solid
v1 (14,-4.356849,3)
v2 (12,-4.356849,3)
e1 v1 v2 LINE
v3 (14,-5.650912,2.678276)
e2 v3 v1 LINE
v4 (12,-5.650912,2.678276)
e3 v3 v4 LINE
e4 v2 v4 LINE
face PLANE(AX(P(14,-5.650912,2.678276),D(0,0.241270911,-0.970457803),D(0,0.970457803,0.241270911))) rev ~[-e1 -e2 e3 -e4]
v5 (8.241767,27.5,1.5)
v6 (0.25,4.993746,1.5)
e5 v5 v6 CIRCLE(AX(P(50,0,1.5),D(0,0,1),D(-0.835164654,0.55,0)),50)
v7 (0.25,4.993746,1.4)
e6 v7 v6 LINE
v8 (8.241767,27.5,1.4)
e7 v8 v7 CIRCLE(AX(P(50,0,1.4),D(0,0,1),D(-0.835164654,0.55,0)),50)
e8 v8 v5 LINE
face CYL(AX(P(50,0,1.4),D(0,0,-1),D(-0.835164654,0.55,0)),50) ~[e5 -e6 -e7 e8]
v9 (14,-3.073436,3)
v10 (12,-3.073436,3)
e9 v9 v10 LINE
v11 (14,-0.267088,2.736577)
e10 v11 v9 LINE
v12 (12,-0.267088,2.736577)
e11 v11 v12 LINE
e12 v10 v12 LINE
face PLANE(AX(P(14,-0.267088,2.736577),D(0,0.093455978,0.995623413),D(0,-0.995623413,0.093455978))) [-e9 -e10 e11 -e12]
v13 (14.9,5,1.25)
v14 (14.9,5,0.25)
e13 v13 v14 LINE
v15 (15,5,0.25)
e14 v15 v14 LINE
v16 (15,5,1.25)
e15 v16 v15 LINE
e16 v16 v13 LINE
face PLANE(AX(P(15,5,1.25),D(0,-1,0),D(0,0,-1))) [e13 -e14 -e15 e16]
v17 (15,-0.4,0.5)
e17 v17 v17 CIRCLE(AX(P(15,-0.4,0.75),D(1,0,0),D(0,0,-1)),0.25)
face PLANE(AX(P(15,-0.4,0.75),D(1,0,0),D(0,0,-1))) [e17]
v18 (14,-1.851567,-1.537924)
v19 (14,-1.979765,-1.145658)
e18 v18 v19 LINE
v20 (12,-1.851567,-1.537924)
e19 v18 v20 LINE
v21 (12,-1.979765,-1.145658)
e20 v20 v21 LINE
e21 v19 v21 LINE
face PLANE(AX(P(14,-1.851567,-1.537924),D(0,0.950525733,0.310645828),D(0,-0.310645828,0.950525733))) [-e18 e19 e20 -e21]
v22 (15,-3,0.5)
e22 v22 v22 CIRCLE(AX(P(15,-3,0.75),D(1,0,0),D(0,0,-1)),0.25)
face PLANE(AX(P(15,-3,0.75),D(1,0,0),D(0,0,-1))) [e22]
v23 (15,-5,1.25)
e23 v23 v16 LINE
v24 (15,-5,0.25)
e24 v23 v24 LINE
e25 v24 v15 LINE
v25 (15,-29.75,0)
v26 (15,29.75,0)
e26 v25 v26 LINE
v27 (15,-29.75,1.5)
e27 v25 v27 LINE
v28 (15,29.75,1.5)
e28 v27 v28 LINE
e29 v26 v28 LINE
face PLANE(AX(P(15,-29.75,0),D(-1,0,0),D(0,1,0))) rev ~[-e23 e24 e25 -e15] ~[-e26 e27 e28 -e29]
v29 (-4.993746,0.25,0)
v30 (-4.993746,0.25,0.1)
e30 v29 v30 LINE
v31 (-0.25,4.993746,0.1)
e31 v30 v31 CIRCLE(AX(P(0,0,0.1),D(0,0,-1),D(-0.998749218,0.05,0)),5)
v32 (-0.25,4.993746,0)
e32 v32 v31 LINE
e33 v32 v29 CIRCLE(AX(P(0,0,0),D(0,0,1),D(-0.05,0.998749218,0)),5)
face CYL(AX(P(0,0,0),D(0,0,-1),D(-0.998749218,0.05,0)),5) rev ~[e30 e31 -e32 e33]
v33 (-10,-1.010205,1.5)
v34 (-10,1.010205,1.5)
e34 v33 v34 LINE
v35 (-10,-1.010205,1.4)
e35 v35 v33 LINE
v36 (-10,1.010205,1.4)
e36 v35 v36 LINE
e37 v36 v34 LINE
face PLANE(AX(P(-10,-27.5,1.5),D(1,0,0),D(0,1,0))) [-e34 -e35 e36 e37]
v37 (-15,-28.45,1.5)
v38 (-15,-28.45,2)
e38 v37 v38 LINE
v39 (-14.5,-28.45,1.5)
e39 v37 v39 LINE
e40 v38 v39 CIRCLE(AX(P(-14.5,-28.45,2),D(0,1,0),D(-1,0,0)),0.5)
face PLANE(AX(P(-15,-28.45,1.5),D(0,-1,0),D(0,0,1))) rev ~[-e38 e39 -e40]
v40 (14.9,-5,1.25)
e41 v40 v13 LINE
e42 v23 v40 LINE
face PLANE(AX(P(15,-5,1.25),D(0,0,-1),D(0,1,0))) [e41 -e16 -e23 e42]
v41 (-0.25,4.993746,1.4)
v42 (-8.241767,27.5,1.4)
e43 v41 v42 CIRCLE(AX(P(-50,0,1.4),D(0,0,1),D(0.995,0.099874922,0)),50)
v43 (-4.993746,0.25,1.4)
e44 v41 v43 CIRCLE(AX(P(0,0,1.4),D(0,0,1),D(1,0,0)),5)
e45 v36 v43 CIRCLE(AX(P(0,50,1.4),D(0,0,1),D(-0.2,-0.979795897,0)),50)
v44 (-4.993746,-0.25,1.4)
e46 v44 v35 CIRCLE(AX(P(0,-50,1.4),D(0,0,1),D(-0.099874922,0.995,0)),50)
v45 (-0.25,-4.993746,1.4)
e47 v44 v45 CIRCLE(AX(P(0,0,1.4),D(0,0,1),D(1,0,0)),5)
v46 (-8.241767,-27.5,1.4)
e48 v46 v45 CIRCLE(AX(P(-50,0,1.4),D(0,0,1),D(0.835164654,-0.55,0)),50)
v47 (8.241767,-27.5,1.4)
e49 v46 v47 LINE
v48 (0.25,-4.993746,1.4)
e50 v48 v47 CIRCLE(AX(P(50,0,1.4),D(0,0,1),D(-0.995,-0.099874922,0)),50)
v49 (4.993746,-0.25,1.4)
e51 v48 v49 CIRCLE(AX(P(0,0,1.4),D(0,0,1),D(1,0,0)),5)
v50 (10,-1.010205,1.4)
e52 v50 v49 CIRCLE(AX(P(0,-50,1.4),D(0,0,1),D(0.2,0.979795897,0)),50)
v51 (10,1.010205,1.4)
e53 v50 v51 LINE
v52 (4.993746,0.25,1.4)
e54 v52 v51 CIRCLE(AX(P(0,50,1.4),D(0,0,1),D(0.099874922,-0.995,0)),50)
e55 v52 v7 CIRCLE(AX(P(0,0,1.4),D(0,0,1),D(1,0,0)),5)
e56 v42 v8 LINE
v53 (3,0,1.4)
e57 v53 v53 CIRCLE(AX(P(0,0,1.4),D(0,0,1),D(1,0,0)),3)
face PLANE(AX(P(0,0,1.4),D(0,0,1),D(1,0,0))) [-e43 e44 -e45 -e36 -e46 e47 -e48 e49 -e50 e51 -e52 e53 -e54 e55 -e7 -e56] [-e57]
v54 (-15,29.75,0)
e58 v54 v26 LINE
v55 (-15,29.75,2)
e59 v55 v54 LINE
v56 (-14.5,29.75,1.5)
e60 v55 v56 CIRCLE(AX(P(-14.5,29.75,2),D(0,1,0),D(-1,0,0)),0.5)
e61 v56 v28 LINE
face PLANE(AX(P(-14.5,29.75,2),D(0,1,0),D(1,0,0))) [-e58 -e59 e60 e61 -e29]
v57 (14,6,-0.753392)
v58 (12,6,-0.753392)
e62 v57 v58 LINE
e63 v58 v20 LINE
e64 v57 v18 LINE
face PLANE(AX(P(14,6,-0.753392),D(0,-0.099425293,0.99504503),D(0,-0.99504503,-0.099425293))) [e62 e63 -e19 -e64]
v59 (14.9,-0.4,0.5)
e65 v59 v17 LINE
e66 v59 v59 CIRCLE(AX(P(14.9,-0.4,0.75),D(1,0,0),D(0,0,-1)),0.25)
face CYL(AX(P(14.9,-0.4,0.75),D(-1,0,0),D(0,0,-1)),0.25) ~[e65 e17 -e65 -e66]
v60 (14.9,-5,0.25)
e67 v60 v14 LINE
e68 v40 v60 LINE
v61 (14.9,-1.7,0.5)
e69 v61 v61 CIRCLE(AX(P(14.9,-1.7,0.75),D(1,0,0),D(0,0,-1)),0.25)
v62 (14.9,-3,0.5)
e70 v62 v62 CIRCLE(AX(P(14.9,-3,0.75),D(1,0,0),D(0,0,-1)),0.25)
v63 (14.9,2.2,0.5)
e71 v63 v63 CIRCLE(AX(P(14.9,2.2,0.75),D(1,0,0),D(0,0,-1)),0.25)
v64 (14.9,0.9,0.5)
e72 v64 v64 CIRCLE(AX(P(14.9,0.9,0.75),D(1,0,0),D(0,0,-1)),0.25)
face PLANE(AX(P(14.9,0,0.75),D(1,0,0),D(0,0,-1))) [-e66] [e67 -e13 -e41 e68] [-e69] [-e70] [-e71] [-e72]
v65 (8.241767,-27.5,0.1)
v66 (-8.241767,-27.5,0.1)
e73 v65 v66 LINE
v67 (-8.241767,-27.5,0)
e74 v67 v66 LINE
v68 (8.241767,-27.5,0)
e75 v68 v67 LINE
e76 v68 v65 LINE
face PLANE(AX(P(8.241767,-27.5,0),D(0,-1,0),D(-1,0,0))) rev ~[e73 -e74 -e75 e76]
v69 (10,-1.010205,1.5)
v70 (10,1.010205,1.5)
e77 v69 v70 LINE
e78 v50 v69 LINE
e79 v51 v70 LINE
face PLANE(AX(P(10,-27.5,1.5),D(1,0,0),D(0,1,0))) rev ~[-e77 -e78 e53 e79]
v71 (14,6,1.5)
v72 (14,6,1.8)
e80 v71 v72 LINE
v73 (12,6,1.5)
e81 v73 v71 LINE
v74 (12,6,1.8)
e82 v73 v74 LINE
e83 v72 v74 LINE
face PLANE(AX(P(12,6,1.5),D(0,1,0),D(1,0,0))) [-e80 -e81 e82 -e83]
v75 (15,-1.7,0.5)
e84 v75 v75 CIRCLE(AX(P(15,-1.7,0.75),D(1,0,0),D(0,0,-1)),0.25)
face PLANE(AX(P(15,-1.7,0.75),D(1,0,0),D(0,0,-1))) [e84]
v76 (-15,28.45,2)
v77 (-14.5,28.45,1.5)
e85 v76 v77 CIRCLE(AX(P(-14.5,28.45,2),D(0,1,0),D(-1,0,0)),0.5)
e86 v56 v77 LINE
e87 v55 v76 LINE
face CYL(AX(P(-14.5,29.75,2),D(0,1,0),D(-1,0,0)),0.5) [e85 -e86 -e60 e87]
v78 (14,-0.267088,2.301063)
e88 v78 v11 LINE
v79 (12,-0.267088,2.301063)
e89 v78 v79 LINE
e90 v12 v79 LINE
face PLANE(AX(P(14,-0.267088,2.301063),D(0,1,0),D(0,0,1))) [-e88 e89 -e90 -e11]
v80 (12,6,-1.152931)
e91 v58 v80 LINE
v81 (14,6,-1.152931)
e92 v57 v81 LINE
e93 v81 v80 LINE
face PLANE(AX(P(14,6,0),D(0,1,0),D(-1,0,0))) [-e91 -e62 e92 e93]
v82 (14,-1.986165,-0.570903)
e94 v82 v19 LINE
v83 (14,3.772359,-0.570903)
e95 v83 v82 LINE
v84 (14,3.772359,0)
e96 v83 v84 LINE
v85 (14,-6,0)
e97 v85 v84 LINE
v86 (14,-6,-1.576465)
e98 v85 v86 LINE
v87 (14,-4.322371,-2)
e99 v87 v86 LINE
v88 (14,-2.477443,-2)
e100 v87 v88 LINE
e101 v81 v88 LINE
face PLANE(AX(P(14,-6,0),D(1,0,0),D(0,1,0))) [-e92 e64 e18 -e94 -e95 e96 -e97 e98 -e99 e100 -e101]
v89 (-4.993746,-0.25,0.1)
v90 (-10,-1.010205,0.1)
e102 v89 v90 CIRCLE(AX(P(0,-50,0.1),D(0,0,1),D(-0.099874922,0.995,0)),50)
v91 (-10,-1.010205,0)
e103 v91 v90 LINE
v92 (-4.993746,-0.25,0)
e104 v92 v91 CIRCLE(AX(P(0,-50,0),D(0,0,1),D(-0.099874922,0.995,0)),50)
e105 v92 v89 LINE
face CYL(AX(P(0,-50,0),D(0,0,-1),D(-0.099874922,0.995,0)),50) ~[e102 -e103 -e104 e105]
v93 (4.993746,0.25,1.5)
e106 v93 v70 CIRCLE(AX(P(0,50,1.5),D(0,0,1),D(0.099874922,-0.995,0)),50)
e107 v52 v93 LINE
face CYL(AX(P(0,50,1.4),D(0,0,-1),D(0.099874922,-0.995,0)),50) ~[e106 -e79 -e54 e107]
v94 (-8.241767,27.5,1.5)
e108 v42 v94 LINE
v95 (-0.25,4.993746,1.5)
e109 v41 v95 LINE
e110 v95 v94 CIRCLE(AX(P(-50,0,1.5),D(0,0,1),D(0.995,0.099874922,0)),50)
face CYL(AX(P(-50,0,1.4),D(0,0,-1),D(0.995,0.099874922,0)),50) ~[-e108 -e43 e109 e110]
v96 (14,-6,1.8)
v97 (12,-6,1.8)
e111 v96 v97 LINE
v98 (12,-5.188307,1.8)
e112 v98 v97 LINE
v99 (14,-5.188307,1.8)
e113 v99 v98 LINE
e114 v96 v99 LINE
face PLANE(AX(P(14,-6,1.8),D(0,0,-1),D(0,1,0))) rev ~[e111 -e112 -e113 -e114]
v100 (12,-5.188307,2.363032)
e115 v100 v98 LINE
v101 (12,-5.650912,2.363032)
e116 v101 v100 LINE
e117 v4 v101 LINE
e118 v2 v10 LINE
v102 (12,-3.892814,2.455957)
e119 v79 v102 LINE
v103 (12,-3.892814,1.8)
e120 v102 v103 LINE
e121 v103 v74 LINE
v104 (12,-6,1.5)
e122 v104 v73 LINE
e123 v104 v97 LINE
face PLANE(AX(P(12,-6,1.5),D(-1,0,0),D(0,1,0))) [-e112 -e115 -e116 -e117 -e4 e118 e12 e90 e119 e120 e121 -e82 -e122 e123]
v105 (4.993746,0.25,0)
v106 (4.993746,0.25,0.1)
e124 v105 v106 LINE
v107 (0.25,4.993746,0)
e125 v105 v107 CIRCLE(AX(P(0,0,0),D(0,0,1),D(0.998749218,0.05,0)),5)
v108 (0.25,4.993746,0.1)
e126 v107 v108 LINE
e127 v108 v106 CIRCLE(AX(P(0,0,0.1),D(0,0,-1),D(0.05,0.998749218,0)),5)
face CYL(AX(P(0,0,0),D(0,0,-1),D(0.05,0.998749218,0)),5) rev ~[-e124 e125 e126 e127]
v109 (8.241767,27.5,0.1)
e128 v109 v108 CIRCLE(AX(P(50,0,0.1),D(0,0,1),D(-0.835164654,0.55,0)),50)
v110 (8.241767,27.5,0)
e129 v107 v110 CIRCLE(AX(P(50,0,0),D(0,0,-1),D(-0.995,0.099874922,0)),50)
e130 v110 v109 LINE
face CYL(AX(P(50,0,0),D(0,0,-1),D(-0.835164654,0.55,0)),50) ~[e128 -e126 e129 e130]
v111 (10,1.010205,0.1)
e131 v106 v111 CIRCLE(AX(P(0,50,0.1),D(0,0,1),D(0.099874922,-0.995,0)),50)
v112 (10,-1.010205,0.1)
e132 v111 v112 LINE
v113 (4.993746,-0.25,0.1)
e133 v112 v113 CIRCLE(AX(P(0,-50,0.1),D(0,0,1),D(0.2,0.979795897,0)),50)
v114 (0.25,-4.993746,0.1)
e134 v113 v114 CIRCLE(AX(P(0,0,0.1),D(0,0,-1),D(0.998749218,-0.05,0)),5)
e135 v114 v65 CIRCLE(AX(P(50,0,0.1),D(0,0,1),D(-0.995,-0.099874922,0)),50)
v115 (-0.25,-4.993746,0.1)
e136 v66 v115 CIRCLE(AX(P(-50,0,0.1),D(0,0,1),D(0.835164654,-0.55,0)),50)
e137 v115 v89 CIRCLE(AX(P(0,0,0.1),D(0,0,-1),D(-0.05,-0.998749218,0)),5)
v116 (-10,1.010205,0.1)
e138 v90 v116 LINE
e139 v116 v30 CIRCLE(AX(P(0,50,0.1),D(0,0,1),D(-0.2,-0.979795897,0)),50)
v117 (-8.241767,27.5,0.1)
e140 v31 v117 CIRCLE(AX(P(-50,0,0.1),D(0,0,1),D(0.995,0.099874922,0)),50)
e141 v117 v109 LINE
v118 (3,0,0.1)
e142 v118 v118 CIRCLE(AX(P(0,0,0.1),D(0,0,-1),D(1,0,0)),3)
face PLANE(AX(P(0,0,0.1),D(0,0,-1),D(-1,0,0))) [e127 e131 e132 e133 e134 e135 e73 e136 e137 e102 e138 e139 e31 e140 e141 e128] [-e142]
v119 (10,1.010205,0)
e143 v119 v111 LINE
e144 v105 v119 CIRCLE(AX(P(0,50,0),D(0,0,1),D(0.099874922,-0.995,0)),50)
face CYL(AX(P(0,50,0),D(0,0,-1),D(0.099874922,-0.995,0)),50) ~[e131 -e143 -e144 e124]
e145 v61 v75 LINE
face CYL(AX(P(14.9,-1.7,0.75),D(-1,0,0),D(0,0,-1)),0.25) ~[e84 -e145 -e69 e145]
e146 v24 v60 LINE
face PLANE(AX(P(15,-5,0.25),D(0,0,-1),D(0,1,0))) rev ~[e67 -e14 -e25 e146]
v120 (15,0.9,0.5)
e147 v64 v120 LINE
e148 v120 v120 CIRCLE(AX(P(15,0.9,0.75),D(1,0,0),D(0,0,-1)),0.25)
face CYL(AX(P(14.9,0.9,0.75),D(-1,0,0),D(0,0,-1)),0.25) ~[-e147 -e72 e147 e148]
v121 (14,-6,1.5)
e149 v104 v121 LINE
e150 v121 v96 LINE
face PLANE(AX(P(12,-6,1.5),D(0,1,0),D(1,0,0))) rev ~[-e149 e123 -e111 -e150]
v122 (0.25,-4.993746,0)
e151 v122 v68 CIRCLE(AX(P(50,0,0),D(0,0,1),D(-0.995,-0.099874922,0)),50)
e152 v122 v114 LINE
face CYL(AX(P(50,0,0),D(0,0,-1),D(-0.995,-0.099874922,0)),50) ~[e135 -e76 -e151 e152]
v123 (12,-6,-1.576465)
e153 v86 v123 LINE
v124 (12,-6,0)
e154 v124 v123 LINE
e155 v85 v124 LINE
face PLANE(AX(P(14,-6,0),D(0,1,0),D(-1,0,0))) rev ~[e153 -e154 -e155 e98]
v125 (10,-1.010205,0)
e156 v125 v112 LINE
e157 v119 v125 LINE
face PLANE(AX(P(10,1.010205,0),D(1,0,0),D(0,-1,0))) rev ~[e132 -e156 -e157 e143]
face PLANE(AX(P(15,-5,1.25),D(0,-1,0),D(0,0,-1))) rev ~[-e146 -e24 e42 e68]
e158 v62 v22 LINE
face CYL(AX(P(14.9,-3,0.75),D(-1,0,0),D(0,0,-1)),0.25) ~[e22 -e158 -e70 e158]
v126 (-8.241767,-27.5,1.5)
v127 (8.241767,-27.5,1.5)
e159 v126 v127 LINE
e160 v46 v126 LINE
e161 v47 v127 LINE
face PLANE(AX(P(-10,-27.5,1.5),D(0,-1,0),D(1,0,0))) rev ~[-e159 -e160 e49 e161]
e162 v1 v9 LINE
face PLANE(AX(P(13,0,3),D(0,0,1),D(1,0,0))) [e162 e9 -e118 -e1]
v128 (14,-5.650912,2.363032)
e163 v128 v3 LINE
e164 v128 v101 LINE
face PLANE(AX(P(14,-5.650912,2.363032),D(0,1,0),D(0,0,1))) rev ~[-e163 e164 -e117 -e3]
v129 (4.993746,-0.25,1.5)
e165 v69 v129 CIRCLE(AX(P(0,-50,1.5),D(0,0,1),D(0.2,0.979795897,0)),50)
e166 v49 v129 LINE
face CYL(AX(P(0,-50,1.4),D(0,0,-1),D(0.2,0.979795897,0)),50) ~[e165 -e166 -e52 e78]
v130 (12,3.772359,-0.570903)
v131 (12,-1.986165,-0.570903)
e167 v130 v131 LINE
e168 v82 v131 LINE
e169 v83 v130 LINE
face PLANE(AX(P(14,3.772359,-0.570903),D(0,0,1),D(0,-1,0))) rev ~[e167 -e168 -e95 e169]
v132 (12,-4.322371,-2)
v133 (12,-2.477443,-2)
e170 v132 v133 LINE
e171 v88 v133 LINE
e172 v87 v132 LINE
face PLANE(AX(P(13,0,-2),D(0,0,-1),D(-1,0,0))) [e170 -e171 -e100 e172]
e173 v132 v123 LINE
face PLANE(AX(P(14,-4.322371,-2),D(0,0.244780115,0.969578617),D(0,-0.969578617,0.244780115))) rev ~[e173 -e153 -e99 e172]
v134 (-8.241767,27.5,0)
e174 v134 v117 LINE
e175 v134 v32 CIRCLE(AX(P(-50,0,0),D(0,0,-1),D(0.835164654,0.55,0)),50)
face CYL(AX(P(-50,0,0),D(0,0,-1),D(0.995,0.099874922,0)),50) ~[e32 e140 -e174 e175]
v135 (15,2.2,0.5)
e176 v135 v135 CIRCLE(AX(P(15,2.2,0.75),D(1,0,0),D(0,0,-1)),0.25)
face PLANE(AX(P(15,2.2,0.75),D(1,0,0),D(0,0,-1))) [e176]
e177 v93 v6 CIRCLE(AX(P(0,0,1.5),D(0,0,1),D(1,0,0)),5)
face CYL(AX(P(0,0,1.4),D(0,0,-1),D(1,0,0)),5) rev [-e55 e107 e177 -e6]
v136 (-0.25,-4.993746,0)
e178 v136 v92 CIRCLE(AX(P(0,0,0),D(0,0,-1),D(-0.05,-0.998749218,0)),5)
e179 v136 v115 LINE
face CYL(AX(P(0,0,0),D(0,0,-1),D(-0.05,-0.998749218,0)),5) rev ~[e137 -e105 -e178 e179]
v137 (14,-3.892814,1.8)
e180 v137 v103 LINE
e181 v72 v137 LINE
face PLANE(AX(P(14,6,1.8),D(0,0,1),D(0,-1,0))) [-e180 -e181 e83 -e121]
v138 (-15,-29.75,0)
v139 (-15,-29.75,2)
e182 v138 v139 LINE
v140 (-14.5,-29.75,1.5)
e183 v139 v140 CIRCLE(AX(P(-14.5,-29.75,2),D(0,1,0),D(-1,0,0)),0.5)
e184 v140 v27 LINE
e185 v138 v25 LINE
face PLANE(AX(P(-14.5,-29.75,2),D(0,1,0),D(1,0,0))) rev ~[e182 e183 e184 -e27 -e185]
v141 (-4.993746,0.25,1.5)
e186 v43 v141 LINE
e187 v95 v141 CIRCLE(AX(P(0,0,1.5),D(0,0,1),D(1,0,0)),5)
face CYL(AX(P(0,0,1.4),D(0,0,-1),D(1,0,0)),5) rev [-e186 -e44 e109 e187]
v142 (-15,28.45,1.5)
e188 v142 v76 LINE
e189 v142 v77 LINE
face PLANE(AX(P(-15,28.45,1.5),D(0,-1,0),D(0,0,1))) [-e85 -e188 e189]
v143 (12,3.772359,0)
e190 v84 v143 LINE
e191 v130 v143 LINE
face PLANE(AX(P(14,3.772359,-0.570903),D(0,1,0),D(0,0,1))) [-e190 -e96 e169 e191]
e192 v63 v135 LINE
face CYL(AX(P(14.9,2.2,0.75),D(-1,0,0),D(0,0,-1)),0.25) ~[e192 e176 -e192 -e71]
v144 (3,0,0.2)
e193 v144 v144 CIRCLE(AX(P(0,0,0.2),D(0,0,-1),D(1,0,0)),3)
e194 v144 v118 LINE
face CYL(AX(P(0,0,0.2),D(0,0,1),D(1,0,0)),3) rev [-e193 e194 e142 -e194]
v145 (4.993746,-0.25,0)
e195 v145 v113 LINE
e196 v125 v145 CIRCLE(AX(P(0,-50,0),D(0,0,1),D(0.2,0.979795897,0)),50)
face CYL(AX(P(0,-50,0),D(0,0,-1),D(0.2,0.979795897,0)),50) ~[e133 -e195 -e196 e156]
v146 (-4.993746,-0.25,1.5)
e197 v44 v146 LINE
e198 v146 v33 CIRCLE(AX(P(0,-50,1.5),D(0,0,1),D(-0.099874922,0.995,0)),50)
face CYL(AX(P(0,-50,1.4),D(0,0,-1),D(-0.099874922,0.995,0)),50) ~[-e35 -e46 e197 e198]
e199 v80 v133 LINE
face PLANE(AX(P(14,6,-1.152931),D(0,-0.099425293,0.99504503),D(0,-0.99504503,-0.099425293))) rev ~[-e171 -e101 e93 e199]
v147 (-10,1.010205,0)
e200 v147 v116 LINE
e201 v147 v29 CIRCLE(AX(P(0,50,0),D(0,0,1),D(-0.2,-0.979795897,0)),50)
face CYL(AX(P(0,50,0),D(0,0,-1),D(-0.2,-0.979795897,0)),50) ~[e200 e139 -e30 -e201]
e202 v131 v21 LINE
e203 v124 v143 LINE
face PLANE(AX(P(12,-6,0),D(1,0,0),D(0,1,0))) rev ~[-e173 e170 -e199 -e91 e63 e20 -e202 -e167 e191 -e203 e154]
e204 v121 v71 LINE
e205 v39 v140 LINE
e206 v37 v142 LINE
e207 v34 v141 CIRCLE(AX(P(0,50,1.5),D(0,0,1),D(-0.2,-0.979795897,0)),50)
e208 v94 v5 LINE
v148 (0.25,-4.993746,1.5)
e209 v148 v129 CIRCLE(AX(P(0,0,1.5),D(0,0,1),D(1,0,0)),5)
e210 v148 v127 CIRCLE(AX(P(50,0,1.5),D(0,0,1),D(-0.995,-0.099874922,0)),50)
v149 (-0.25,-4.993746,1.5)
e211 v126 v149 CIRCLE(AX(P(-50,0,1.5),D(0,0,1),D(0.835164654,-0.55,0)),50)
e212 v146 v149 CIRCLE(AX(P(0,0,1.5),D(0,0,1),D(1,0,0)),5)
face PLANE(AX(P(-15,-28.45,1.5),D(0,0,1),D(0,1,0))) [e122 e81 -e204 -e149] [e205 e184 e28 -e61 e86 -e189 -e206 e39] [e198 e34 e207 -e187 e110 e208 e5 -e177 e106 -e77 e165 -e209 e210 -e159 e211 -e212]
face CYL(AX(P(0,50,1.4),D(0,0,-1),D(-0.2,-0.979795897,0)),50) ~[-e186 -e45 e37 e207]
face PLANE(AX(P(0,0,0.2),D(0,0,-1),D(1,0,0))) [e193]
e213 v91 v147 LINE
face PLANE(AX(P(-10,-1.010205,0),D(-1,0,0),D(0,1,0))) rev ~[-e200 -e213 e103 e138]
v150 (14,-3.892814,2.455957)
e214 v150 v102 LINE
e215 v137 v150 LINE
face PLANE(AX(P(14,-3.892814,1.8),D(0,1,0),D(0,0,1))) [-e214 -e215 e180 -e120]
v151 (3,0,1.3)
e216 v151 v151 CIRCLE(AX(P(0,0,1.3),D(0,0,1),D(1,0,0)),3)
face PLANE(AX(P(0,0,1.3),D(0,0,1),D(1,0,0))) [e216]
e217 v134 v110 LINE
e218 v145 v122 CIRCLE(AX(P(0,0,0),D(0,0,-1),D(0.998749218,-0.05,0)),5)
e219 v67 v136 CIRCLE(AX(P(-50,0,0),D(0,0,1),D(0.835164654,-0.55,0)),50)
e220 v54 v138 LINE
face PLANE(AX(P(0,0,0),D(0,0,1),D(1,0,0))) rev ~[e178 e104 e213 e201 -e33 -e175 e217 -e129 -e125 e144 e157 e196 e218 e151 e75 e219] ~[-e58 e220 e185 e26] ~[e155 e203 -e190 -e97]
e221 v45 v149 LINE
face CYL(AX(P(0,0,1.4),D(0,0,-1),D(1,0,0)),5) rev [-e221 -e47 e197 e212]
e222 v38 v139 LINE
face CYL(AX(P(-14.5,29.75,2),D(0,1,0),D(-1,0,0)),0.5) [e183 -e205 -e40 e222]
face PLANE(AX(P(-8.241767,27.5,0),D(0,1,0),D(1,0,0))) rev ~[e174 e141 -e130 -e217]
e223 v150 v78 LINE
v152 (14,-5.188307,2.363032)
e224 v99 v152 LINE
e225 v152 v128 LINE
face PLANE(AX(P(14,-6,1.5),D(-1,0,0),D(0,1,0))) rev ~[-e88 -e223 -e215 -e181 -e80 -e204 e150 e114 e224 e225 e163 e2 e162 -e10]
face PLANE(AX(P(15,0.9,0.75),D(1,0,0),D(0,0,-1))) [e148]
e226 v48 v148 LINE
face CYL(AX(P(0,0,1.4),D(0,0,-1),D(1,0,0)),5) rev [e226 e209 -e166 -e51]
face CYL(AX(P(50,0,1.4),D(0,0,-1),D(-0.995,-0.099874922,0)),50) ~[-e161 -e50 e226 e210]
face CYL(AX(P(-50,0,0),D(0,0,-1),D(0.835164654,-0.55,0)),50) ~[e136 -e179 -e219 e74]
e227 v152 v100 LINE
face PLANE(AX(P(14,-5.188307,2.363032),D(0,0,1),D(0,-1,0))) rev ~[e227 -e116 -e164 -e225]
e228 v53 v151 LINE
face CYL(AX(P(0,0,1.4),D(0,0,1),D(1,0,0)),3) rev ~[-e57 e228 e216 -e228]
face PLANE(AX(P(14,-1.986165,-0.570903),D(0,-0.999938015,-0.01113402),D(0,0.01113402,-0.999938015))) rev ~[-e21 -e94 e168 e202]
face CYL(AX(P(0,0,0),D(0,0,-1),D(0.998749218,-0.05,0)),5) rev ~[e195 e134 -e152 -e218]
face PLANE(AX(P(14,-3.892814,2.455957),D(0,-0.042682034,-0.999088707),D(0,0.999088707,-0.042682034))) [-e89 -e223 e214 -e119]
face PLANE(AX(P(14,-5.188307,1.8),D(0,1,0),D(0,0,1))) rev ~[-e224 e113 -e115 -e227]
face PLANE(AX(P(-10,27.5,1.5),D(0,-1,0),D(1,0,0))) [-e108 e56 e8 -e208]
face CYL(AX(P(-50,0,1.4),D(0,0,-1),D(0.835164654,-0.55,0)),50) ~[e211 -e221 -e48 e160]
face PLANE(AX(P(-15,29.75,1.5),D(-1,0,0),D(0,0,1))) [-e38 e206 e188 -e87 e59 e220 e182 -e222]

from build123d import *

# Parameters (mm, degrees)
SKETCH_1_W           = 30
SKETCH_1_H           = 59.5
EXTRUDE_1_DEPTH      = 1.5
SKETCH_2_W           = 20
SKETCH_2_H           = 55
CUT_EXTRUDE_1_DEPTH  = 0.1
SKETCH_3_R           = 5
EXTRUDE_2_DEPTH      = 0.1
EXTRUDE_3_DEPTH      = 0.1
CUT_EXTRUDE_START    = -0.1
SKETCH_5_R           = 5
CUT_EXTRUDE_2_DEPTH  = 0.1
SKETCH_6_R           = 3
CUT_EXTRUDE_3_DEPTH  = 0.1
CUT_EXTRUDE_4_DEPTH  = 0.1
SKETCH_8_R           = 3
CUT_EXTRUDE_5_DEPTH  = 0.1
SKETCH_9_W           = 1
SKETCH_9_H           = 10
CUT_EXTRUDE_6_DEPTH  = 0.1
SKETCH_10_R          = 0.25
EXTRUDE_4_DEPTH      = 0.1
SKETCH_11_W          = 2
SKETCH_11_H          = 12
EXTRUDE_5_DEPTH      = 1.5
CUT_EXTRUDE_7_DEPTH  = 42.654081433
SKETCH_13_W          = 2
SKETCH_13_H          = 12
EXTRUDE_6_DEPTH      = 2
CUT_EXTRUDE_8_DEPTH  = 42.654081433
CUT_EXTRUDE_9_DEPTH  = 42.654081433
CUT_EXTRUDE_10_DEPTH = 42.654081433
SKETCH_18_R          = 0.5
EXTRUDE_7_DEPTH      = 59.5
SKETCH_19_W          = 1
SKETCH_19_H          = 56.9
CUT_EXTRUDE_11_DEPTH = 2


with BuildPart() as part:
    # 草圖1 → 填料-伸長1 (new body)
    with BuildSketch(Plane.XY):
        Rectangle(SKETCH_1_W, SKETCH_1_H)
    extrude(amount=EXTRUDE_1_DEPTH)

    # 草圖2 → 除料-伸長1 (cut)
    with BuildSketch(Plane.XY.offset(1.5)):
        Rectangle(SKETCH_2_W, SKETCH_2_H)
    extrude(amount=-CUT_EXTRUDE_1_DEPTH, mode=Mode.SUBTRACT)

    # 草圖3 → 填料-伸長2 (add)
    with BuildSketch(Plane.XY.offset(1.4)):
        Circle(SKETCH_3_R)
    extrude(amount=EXTRUDE_2_DEPTH)

    # 草圖4 → 填料-伸長3 (add)
    with BuildSketch(Plane.XY.offset(1.4)):
        with BuildLine():
            ThreePointArc((4.993746089, 0.25), (7.506502742, 0.566687178), (10, 1.010205144))
            Line((10, 1.010205144), (10, 27.5))
            Line((10, 27.5), (8.241767279, 27.5))
            ThreePointArc((8.241767279, 27.5), (2.882359671, 16.731048078), (0.25, 4.993746089))
            ThreePointArc((0.25, 4.993746089), (3.535533906, 3.535533906), (4.993746089, 0.25))
        make_face()
        with BuildLine():
            ThreePointArc((0.25, -4.993746089), (2.882359671, -16.731048078), (8.241767279, -27.5))
            Line((8.241767279, -27.5), (10, -27.5))
            Line((10, -27.5), (10, -1.010205144))
            ThreePointArc((10, -1.010205144), (7.506502742, -0.566687178), (4.993746089, -0.25))
            ThreePointArc((4.993746089, -0.25), (3.535533906, -3.535533906), (0.25, -4.993746089))
        make_face()
        with BuildLine():
            Line((-10, -27.5), (-8.241767279, -27.5))
            ThreePointArc((-8.241767279, -27.5), (-2.882359671, -16.731048078), (-0.25, -4.993746089))
            ThreePointArc((-0.25, -4.993746089), (-3.535533906, -3.535533906), (-4.993746089, -0.25))
            ThreePointArc((-4.993746089, -0.25), (-7.506502742, -0.566687178), (-10, -1.010205144))
            Line((-10, -1.010205144), (-10, -27.5))
        make_face()
        with BuildLine():
            Line((-10, 27.5), (-10, 1.010205144))
            ThreePointArc((-10, 1.010205144), (-7.506502742, 0.566687178), (-4.993746089, 0.25))
            ThreePointArc((-4.993746089, 0.25), (-3.535533906, 3.535533906), (-0.25, 4.993746089))
            ThreePointArc((-0.25, 4.993746089), (-2.882359671, 16.731048078), (-8.241767279, 27.5))
            Line((-8.241767279, 27.5), (-10, 27.5))
        make_face()
    extrude(amount=EXTRUDE_3_DEPTH)

    # 草圖5 → 除料-伸長2 (cut)
    with BuildSketch(Plane.XY.offset(1.5).offset(CUT_EXTRUDE_START)):
        Circle(SKETCH_5_R)
    extrude(amount=CUT_EXTRUDE_2_DEPTH, mode=Mode.SUBTRACT)

    # 草圖6 → 除料-伸長3 (cut)
    with BuildSketch(Plane.XY.offset(1.4)):
        Circle(SKETCH_6_R)
    extrude(amount=-CUT_EXTRUDE_3_DEPTH, mode=Mode.SUBTRACT)

    # 草圖7 → 除料-伸長4 (cut)
    with BuildSketch(Plane(origin=(0, 0, 0), x_dir=(-1, 0, 0), z_dir=(0, 0, -1))):
        with BuildLine():
            Line((-8.241767279, -27.5), (8.241767279, -27.5))
            ThreePointArc((8.241767279, -27.5), (2.882359671, -16.731048078), (0.25, -4.993746089))
            ThreePointArc((0.25, -4.993746089), (3.535533906, -3.535533906), (4.993746089, -0.25))
            ThreePointArc((4.993746089, -0.25), (7.506502742, -0.566687178), (10, -1.010205144))
            Line((10, -1.010205144), (10, 1.010205144))
            ThreePointArc((10, 1.010205144), (7.506502742, 0.566687178), (4.993746089, 0.25))
            ThreePointArc((4.993746089, 0.25), (3.535533906, 3.535533906), (0.25, 4.993746089))
            ThreePointArc((0.25, 4.993746089), (2.882359671, 16.731048078), (8.241767279, 27.5))
            Line((8.241767279, 27.5), (-8.241767279, 27.5))
            ThreePointArc((-8.241767279, 27.5), (-2.882359671, 16.731048078), (-0.25, 4.993746089))
            ThreePointArc((-0.25, 4.993746089), (-3.535533906, 3.535533906), (-4.993746089, 0.25))
            ThreePointArc((-4.993746089, 0.25), (-7.506502742, 0.566687178), (-10, 1.010205144))
            Line((-10, 1.010205144), (-10, -1.010205144))
            ThreePointArc((-10, -1.010205144), (-7.506502742, -0.566687178), (-4.993746089, -0.25))
            ThreePointArc((-4.993746089, -0.25), (-3.535533906, -3.535533906), (-0.25, -4.993746089))
            ThreePointArc((-0.25, -4.993746089), (-2.882359671, -16.731048078), (-8.241767279, -27.5))
        make_face()
    extrude(amount=-CUT_EXTRUDE_4_DEPTH, mode=Mode.SUBTRACT)

    # 草圖8 → 除料-伸長5 (cut)
    with BuildSketch(Plane(origin=(0, 0, 0.1), x_dir=(-1, 0, 0), z_dir=(0, 0, -1)).offset(CUT_EXTRUDE_START)):
        with Locations(Location((0, 0, 0), (0, 0, 180))):
            Circle(SKETCH_8_R)
    extrude(amount=CUT_EXTRUDE_5_DEPTH, mode=Mode.SUBTRACT)

    # 草圖9 → 除料-伸長6 (cut)
    with BuildSketch(Plane(origin=(15, 0, 0), x_dir=(0, 0, -1), z_dir=(1, 0, 0))):
        with Locations((-0.75, 0)):
            Rectangle(SKETCH_9_W, SKETCH_9_H)
    extrude(amount=-CUT_EXTRUDE_6_DEPTH, mode=Mode.SUBTRACT)

    # 草圖10 → 填料-伸長4 (add)
    with BuildSketch(Plane(origin=(14.9, 0, 0), x_dir=(0, 0, -1), z_dir=(1, 0, 0))):
        with Locations((-0.75, -3)):
            Circle(SKETCH_10_R)
        with Locations((-0.75, -1.7)):
            Circle(SKETCH_10_R)
        with Locations((-0.75, -0.4)):
            Circle(SKETCH_10_R)
        with Locations((-0.75, 0.9)):
            Circle(SKETCH_10_R)
        with Locations((-0.75, 2.2)):
            Circle(SKETCH_10_R)
    extrude(amount=EXTRUDE_4_DEPTH)

    # 草圖11 → 填料-伸長5 (add)
    with BuildSketch(Plane.XY.offset(1.5)):
        with Locations((13, 0)):
            Rectangle(SKETCH_11_W, SKETCH_11_H)
    extrude(amount=EXTRUDE_5_DEPTH)

    # 草圖12 → 除料-伸長7 (cut, through all)
    with BuildSketch(Plane(origin=(14, 0, 0), x_dir=(0, 0, -1), z_dir=(1, 0, 0))):
        Polygon((-1.8, 6), (-1.8, -3.892813963), (-2.45595706, -3.892813963), (-2.301062562, -0.267088334), (-2.736577143, -0.267088334), (-3, -3.073435974), (-3, 6), align=None)
        Polygon((-3, -6), (-1.8, -6), (-1.8, -5.188306953), (-2.363031893, -5.188306953), (-2.363031893, -5.650911739), (-2.678275837, -5.650911739), (-3, -4.356848884), align=None)
    extrude(amount=-CUT_EXTRUDE_7_DEPTH, mode=Mode.SUBTRACT)

    # 草圖13 → 填料-伸長6 (add)
    with BuildSketch(Plane(origin=(0, 0, 0), x_dir=(-1, 0, 0), z_dir=(0, 0, -1))):
        with Locations((-13, 0)):
            Rectangle(SKETCH_13_W, SKETCH_13_H)
    extrude(amount=EXTRUDE_6_DEPTH)

    # 草圖14 → 除料-伸長8 (cut, through all)
    with BuildSketch(Plane(origin=(14, 0, 0), x_dir=(0, 0, -1), z_dir=(1, 0, 0))):
        Polygon((1.152930519, 6), (2, -2.477443224), (2, 6), align=None)
        Polygon((2, -4.322370965), (1.57646526, -6), (2, -6), align=None)
    extrude(amount=-CUT_EXTRUDE_8_DEPTH, mode=Mode.SUBTRACT)

    # 草圖15 → 除料-伸長9 (cut, through all)
    with BuildSketch(Plane(origin=(14, 0, 0), x_dir=(0, 0, -1), z_dir=(1, 0, 0))):
        Polygon((0.753392093, 6), (1.537923786, -1.851567128), (1.145657939, -1.979765392), (0.570903406, 3.772358885), (0, 3.772358885), (0, 6), align=None)
    extrude(amount=-CUT_EXTRUDE_9_DEPTH, mode=Mode.SUBTRACT)

    # 草圖17 → 除料-伸長10 (cut, through all)
    with BuildSketch(Plane(origin=(14, 0, 0), x_dir=(0, 0, -1), z_dir=(1, 0, 0))):
        Polygon((0.570903406, 3.772358885), (0.570903406, -1.986165117), (1.145657939, -1.979765392), align=None)
    extrude(amount=-CUT_EXTRUDE_10_DEPTH, mode=Mode.SUBTRACT)

    # 草圖18 → 填料-伸長7 (add, through all)
    with BuildSketch(Plane(origin=(0, 29.75, 0), x_dir=(1, 0, 0), z_dir=(0, 1, 0))):
        with Locations((-14.5, -2)):
            Circle(SKETCH_18_R)
        with BuildLine():
            Line((-14.5, -1.5), (-15, -1.5))
            Line((-15, -1.5), (-15, -2))
            ThreePointArc((-15, -2), (-14.853553391, -1.646446609), (-14.5, -1.5))
        make_face()
    extrude(amount=-EXTRUDE_7_DEPTH)

    # 草圖19 → 除料-伸長11 (cut)
    with BuildSketch(Plane.ZY.offset(15)):
        with Locations((2, 0)):
            Rectangle(SKETCH_19_W, SKETCH_19_H)
    extrude(amount=-CUT_EXTRUDE_11_DEPTH, mode=Mode.SUBTRACT)


solid = part.part
